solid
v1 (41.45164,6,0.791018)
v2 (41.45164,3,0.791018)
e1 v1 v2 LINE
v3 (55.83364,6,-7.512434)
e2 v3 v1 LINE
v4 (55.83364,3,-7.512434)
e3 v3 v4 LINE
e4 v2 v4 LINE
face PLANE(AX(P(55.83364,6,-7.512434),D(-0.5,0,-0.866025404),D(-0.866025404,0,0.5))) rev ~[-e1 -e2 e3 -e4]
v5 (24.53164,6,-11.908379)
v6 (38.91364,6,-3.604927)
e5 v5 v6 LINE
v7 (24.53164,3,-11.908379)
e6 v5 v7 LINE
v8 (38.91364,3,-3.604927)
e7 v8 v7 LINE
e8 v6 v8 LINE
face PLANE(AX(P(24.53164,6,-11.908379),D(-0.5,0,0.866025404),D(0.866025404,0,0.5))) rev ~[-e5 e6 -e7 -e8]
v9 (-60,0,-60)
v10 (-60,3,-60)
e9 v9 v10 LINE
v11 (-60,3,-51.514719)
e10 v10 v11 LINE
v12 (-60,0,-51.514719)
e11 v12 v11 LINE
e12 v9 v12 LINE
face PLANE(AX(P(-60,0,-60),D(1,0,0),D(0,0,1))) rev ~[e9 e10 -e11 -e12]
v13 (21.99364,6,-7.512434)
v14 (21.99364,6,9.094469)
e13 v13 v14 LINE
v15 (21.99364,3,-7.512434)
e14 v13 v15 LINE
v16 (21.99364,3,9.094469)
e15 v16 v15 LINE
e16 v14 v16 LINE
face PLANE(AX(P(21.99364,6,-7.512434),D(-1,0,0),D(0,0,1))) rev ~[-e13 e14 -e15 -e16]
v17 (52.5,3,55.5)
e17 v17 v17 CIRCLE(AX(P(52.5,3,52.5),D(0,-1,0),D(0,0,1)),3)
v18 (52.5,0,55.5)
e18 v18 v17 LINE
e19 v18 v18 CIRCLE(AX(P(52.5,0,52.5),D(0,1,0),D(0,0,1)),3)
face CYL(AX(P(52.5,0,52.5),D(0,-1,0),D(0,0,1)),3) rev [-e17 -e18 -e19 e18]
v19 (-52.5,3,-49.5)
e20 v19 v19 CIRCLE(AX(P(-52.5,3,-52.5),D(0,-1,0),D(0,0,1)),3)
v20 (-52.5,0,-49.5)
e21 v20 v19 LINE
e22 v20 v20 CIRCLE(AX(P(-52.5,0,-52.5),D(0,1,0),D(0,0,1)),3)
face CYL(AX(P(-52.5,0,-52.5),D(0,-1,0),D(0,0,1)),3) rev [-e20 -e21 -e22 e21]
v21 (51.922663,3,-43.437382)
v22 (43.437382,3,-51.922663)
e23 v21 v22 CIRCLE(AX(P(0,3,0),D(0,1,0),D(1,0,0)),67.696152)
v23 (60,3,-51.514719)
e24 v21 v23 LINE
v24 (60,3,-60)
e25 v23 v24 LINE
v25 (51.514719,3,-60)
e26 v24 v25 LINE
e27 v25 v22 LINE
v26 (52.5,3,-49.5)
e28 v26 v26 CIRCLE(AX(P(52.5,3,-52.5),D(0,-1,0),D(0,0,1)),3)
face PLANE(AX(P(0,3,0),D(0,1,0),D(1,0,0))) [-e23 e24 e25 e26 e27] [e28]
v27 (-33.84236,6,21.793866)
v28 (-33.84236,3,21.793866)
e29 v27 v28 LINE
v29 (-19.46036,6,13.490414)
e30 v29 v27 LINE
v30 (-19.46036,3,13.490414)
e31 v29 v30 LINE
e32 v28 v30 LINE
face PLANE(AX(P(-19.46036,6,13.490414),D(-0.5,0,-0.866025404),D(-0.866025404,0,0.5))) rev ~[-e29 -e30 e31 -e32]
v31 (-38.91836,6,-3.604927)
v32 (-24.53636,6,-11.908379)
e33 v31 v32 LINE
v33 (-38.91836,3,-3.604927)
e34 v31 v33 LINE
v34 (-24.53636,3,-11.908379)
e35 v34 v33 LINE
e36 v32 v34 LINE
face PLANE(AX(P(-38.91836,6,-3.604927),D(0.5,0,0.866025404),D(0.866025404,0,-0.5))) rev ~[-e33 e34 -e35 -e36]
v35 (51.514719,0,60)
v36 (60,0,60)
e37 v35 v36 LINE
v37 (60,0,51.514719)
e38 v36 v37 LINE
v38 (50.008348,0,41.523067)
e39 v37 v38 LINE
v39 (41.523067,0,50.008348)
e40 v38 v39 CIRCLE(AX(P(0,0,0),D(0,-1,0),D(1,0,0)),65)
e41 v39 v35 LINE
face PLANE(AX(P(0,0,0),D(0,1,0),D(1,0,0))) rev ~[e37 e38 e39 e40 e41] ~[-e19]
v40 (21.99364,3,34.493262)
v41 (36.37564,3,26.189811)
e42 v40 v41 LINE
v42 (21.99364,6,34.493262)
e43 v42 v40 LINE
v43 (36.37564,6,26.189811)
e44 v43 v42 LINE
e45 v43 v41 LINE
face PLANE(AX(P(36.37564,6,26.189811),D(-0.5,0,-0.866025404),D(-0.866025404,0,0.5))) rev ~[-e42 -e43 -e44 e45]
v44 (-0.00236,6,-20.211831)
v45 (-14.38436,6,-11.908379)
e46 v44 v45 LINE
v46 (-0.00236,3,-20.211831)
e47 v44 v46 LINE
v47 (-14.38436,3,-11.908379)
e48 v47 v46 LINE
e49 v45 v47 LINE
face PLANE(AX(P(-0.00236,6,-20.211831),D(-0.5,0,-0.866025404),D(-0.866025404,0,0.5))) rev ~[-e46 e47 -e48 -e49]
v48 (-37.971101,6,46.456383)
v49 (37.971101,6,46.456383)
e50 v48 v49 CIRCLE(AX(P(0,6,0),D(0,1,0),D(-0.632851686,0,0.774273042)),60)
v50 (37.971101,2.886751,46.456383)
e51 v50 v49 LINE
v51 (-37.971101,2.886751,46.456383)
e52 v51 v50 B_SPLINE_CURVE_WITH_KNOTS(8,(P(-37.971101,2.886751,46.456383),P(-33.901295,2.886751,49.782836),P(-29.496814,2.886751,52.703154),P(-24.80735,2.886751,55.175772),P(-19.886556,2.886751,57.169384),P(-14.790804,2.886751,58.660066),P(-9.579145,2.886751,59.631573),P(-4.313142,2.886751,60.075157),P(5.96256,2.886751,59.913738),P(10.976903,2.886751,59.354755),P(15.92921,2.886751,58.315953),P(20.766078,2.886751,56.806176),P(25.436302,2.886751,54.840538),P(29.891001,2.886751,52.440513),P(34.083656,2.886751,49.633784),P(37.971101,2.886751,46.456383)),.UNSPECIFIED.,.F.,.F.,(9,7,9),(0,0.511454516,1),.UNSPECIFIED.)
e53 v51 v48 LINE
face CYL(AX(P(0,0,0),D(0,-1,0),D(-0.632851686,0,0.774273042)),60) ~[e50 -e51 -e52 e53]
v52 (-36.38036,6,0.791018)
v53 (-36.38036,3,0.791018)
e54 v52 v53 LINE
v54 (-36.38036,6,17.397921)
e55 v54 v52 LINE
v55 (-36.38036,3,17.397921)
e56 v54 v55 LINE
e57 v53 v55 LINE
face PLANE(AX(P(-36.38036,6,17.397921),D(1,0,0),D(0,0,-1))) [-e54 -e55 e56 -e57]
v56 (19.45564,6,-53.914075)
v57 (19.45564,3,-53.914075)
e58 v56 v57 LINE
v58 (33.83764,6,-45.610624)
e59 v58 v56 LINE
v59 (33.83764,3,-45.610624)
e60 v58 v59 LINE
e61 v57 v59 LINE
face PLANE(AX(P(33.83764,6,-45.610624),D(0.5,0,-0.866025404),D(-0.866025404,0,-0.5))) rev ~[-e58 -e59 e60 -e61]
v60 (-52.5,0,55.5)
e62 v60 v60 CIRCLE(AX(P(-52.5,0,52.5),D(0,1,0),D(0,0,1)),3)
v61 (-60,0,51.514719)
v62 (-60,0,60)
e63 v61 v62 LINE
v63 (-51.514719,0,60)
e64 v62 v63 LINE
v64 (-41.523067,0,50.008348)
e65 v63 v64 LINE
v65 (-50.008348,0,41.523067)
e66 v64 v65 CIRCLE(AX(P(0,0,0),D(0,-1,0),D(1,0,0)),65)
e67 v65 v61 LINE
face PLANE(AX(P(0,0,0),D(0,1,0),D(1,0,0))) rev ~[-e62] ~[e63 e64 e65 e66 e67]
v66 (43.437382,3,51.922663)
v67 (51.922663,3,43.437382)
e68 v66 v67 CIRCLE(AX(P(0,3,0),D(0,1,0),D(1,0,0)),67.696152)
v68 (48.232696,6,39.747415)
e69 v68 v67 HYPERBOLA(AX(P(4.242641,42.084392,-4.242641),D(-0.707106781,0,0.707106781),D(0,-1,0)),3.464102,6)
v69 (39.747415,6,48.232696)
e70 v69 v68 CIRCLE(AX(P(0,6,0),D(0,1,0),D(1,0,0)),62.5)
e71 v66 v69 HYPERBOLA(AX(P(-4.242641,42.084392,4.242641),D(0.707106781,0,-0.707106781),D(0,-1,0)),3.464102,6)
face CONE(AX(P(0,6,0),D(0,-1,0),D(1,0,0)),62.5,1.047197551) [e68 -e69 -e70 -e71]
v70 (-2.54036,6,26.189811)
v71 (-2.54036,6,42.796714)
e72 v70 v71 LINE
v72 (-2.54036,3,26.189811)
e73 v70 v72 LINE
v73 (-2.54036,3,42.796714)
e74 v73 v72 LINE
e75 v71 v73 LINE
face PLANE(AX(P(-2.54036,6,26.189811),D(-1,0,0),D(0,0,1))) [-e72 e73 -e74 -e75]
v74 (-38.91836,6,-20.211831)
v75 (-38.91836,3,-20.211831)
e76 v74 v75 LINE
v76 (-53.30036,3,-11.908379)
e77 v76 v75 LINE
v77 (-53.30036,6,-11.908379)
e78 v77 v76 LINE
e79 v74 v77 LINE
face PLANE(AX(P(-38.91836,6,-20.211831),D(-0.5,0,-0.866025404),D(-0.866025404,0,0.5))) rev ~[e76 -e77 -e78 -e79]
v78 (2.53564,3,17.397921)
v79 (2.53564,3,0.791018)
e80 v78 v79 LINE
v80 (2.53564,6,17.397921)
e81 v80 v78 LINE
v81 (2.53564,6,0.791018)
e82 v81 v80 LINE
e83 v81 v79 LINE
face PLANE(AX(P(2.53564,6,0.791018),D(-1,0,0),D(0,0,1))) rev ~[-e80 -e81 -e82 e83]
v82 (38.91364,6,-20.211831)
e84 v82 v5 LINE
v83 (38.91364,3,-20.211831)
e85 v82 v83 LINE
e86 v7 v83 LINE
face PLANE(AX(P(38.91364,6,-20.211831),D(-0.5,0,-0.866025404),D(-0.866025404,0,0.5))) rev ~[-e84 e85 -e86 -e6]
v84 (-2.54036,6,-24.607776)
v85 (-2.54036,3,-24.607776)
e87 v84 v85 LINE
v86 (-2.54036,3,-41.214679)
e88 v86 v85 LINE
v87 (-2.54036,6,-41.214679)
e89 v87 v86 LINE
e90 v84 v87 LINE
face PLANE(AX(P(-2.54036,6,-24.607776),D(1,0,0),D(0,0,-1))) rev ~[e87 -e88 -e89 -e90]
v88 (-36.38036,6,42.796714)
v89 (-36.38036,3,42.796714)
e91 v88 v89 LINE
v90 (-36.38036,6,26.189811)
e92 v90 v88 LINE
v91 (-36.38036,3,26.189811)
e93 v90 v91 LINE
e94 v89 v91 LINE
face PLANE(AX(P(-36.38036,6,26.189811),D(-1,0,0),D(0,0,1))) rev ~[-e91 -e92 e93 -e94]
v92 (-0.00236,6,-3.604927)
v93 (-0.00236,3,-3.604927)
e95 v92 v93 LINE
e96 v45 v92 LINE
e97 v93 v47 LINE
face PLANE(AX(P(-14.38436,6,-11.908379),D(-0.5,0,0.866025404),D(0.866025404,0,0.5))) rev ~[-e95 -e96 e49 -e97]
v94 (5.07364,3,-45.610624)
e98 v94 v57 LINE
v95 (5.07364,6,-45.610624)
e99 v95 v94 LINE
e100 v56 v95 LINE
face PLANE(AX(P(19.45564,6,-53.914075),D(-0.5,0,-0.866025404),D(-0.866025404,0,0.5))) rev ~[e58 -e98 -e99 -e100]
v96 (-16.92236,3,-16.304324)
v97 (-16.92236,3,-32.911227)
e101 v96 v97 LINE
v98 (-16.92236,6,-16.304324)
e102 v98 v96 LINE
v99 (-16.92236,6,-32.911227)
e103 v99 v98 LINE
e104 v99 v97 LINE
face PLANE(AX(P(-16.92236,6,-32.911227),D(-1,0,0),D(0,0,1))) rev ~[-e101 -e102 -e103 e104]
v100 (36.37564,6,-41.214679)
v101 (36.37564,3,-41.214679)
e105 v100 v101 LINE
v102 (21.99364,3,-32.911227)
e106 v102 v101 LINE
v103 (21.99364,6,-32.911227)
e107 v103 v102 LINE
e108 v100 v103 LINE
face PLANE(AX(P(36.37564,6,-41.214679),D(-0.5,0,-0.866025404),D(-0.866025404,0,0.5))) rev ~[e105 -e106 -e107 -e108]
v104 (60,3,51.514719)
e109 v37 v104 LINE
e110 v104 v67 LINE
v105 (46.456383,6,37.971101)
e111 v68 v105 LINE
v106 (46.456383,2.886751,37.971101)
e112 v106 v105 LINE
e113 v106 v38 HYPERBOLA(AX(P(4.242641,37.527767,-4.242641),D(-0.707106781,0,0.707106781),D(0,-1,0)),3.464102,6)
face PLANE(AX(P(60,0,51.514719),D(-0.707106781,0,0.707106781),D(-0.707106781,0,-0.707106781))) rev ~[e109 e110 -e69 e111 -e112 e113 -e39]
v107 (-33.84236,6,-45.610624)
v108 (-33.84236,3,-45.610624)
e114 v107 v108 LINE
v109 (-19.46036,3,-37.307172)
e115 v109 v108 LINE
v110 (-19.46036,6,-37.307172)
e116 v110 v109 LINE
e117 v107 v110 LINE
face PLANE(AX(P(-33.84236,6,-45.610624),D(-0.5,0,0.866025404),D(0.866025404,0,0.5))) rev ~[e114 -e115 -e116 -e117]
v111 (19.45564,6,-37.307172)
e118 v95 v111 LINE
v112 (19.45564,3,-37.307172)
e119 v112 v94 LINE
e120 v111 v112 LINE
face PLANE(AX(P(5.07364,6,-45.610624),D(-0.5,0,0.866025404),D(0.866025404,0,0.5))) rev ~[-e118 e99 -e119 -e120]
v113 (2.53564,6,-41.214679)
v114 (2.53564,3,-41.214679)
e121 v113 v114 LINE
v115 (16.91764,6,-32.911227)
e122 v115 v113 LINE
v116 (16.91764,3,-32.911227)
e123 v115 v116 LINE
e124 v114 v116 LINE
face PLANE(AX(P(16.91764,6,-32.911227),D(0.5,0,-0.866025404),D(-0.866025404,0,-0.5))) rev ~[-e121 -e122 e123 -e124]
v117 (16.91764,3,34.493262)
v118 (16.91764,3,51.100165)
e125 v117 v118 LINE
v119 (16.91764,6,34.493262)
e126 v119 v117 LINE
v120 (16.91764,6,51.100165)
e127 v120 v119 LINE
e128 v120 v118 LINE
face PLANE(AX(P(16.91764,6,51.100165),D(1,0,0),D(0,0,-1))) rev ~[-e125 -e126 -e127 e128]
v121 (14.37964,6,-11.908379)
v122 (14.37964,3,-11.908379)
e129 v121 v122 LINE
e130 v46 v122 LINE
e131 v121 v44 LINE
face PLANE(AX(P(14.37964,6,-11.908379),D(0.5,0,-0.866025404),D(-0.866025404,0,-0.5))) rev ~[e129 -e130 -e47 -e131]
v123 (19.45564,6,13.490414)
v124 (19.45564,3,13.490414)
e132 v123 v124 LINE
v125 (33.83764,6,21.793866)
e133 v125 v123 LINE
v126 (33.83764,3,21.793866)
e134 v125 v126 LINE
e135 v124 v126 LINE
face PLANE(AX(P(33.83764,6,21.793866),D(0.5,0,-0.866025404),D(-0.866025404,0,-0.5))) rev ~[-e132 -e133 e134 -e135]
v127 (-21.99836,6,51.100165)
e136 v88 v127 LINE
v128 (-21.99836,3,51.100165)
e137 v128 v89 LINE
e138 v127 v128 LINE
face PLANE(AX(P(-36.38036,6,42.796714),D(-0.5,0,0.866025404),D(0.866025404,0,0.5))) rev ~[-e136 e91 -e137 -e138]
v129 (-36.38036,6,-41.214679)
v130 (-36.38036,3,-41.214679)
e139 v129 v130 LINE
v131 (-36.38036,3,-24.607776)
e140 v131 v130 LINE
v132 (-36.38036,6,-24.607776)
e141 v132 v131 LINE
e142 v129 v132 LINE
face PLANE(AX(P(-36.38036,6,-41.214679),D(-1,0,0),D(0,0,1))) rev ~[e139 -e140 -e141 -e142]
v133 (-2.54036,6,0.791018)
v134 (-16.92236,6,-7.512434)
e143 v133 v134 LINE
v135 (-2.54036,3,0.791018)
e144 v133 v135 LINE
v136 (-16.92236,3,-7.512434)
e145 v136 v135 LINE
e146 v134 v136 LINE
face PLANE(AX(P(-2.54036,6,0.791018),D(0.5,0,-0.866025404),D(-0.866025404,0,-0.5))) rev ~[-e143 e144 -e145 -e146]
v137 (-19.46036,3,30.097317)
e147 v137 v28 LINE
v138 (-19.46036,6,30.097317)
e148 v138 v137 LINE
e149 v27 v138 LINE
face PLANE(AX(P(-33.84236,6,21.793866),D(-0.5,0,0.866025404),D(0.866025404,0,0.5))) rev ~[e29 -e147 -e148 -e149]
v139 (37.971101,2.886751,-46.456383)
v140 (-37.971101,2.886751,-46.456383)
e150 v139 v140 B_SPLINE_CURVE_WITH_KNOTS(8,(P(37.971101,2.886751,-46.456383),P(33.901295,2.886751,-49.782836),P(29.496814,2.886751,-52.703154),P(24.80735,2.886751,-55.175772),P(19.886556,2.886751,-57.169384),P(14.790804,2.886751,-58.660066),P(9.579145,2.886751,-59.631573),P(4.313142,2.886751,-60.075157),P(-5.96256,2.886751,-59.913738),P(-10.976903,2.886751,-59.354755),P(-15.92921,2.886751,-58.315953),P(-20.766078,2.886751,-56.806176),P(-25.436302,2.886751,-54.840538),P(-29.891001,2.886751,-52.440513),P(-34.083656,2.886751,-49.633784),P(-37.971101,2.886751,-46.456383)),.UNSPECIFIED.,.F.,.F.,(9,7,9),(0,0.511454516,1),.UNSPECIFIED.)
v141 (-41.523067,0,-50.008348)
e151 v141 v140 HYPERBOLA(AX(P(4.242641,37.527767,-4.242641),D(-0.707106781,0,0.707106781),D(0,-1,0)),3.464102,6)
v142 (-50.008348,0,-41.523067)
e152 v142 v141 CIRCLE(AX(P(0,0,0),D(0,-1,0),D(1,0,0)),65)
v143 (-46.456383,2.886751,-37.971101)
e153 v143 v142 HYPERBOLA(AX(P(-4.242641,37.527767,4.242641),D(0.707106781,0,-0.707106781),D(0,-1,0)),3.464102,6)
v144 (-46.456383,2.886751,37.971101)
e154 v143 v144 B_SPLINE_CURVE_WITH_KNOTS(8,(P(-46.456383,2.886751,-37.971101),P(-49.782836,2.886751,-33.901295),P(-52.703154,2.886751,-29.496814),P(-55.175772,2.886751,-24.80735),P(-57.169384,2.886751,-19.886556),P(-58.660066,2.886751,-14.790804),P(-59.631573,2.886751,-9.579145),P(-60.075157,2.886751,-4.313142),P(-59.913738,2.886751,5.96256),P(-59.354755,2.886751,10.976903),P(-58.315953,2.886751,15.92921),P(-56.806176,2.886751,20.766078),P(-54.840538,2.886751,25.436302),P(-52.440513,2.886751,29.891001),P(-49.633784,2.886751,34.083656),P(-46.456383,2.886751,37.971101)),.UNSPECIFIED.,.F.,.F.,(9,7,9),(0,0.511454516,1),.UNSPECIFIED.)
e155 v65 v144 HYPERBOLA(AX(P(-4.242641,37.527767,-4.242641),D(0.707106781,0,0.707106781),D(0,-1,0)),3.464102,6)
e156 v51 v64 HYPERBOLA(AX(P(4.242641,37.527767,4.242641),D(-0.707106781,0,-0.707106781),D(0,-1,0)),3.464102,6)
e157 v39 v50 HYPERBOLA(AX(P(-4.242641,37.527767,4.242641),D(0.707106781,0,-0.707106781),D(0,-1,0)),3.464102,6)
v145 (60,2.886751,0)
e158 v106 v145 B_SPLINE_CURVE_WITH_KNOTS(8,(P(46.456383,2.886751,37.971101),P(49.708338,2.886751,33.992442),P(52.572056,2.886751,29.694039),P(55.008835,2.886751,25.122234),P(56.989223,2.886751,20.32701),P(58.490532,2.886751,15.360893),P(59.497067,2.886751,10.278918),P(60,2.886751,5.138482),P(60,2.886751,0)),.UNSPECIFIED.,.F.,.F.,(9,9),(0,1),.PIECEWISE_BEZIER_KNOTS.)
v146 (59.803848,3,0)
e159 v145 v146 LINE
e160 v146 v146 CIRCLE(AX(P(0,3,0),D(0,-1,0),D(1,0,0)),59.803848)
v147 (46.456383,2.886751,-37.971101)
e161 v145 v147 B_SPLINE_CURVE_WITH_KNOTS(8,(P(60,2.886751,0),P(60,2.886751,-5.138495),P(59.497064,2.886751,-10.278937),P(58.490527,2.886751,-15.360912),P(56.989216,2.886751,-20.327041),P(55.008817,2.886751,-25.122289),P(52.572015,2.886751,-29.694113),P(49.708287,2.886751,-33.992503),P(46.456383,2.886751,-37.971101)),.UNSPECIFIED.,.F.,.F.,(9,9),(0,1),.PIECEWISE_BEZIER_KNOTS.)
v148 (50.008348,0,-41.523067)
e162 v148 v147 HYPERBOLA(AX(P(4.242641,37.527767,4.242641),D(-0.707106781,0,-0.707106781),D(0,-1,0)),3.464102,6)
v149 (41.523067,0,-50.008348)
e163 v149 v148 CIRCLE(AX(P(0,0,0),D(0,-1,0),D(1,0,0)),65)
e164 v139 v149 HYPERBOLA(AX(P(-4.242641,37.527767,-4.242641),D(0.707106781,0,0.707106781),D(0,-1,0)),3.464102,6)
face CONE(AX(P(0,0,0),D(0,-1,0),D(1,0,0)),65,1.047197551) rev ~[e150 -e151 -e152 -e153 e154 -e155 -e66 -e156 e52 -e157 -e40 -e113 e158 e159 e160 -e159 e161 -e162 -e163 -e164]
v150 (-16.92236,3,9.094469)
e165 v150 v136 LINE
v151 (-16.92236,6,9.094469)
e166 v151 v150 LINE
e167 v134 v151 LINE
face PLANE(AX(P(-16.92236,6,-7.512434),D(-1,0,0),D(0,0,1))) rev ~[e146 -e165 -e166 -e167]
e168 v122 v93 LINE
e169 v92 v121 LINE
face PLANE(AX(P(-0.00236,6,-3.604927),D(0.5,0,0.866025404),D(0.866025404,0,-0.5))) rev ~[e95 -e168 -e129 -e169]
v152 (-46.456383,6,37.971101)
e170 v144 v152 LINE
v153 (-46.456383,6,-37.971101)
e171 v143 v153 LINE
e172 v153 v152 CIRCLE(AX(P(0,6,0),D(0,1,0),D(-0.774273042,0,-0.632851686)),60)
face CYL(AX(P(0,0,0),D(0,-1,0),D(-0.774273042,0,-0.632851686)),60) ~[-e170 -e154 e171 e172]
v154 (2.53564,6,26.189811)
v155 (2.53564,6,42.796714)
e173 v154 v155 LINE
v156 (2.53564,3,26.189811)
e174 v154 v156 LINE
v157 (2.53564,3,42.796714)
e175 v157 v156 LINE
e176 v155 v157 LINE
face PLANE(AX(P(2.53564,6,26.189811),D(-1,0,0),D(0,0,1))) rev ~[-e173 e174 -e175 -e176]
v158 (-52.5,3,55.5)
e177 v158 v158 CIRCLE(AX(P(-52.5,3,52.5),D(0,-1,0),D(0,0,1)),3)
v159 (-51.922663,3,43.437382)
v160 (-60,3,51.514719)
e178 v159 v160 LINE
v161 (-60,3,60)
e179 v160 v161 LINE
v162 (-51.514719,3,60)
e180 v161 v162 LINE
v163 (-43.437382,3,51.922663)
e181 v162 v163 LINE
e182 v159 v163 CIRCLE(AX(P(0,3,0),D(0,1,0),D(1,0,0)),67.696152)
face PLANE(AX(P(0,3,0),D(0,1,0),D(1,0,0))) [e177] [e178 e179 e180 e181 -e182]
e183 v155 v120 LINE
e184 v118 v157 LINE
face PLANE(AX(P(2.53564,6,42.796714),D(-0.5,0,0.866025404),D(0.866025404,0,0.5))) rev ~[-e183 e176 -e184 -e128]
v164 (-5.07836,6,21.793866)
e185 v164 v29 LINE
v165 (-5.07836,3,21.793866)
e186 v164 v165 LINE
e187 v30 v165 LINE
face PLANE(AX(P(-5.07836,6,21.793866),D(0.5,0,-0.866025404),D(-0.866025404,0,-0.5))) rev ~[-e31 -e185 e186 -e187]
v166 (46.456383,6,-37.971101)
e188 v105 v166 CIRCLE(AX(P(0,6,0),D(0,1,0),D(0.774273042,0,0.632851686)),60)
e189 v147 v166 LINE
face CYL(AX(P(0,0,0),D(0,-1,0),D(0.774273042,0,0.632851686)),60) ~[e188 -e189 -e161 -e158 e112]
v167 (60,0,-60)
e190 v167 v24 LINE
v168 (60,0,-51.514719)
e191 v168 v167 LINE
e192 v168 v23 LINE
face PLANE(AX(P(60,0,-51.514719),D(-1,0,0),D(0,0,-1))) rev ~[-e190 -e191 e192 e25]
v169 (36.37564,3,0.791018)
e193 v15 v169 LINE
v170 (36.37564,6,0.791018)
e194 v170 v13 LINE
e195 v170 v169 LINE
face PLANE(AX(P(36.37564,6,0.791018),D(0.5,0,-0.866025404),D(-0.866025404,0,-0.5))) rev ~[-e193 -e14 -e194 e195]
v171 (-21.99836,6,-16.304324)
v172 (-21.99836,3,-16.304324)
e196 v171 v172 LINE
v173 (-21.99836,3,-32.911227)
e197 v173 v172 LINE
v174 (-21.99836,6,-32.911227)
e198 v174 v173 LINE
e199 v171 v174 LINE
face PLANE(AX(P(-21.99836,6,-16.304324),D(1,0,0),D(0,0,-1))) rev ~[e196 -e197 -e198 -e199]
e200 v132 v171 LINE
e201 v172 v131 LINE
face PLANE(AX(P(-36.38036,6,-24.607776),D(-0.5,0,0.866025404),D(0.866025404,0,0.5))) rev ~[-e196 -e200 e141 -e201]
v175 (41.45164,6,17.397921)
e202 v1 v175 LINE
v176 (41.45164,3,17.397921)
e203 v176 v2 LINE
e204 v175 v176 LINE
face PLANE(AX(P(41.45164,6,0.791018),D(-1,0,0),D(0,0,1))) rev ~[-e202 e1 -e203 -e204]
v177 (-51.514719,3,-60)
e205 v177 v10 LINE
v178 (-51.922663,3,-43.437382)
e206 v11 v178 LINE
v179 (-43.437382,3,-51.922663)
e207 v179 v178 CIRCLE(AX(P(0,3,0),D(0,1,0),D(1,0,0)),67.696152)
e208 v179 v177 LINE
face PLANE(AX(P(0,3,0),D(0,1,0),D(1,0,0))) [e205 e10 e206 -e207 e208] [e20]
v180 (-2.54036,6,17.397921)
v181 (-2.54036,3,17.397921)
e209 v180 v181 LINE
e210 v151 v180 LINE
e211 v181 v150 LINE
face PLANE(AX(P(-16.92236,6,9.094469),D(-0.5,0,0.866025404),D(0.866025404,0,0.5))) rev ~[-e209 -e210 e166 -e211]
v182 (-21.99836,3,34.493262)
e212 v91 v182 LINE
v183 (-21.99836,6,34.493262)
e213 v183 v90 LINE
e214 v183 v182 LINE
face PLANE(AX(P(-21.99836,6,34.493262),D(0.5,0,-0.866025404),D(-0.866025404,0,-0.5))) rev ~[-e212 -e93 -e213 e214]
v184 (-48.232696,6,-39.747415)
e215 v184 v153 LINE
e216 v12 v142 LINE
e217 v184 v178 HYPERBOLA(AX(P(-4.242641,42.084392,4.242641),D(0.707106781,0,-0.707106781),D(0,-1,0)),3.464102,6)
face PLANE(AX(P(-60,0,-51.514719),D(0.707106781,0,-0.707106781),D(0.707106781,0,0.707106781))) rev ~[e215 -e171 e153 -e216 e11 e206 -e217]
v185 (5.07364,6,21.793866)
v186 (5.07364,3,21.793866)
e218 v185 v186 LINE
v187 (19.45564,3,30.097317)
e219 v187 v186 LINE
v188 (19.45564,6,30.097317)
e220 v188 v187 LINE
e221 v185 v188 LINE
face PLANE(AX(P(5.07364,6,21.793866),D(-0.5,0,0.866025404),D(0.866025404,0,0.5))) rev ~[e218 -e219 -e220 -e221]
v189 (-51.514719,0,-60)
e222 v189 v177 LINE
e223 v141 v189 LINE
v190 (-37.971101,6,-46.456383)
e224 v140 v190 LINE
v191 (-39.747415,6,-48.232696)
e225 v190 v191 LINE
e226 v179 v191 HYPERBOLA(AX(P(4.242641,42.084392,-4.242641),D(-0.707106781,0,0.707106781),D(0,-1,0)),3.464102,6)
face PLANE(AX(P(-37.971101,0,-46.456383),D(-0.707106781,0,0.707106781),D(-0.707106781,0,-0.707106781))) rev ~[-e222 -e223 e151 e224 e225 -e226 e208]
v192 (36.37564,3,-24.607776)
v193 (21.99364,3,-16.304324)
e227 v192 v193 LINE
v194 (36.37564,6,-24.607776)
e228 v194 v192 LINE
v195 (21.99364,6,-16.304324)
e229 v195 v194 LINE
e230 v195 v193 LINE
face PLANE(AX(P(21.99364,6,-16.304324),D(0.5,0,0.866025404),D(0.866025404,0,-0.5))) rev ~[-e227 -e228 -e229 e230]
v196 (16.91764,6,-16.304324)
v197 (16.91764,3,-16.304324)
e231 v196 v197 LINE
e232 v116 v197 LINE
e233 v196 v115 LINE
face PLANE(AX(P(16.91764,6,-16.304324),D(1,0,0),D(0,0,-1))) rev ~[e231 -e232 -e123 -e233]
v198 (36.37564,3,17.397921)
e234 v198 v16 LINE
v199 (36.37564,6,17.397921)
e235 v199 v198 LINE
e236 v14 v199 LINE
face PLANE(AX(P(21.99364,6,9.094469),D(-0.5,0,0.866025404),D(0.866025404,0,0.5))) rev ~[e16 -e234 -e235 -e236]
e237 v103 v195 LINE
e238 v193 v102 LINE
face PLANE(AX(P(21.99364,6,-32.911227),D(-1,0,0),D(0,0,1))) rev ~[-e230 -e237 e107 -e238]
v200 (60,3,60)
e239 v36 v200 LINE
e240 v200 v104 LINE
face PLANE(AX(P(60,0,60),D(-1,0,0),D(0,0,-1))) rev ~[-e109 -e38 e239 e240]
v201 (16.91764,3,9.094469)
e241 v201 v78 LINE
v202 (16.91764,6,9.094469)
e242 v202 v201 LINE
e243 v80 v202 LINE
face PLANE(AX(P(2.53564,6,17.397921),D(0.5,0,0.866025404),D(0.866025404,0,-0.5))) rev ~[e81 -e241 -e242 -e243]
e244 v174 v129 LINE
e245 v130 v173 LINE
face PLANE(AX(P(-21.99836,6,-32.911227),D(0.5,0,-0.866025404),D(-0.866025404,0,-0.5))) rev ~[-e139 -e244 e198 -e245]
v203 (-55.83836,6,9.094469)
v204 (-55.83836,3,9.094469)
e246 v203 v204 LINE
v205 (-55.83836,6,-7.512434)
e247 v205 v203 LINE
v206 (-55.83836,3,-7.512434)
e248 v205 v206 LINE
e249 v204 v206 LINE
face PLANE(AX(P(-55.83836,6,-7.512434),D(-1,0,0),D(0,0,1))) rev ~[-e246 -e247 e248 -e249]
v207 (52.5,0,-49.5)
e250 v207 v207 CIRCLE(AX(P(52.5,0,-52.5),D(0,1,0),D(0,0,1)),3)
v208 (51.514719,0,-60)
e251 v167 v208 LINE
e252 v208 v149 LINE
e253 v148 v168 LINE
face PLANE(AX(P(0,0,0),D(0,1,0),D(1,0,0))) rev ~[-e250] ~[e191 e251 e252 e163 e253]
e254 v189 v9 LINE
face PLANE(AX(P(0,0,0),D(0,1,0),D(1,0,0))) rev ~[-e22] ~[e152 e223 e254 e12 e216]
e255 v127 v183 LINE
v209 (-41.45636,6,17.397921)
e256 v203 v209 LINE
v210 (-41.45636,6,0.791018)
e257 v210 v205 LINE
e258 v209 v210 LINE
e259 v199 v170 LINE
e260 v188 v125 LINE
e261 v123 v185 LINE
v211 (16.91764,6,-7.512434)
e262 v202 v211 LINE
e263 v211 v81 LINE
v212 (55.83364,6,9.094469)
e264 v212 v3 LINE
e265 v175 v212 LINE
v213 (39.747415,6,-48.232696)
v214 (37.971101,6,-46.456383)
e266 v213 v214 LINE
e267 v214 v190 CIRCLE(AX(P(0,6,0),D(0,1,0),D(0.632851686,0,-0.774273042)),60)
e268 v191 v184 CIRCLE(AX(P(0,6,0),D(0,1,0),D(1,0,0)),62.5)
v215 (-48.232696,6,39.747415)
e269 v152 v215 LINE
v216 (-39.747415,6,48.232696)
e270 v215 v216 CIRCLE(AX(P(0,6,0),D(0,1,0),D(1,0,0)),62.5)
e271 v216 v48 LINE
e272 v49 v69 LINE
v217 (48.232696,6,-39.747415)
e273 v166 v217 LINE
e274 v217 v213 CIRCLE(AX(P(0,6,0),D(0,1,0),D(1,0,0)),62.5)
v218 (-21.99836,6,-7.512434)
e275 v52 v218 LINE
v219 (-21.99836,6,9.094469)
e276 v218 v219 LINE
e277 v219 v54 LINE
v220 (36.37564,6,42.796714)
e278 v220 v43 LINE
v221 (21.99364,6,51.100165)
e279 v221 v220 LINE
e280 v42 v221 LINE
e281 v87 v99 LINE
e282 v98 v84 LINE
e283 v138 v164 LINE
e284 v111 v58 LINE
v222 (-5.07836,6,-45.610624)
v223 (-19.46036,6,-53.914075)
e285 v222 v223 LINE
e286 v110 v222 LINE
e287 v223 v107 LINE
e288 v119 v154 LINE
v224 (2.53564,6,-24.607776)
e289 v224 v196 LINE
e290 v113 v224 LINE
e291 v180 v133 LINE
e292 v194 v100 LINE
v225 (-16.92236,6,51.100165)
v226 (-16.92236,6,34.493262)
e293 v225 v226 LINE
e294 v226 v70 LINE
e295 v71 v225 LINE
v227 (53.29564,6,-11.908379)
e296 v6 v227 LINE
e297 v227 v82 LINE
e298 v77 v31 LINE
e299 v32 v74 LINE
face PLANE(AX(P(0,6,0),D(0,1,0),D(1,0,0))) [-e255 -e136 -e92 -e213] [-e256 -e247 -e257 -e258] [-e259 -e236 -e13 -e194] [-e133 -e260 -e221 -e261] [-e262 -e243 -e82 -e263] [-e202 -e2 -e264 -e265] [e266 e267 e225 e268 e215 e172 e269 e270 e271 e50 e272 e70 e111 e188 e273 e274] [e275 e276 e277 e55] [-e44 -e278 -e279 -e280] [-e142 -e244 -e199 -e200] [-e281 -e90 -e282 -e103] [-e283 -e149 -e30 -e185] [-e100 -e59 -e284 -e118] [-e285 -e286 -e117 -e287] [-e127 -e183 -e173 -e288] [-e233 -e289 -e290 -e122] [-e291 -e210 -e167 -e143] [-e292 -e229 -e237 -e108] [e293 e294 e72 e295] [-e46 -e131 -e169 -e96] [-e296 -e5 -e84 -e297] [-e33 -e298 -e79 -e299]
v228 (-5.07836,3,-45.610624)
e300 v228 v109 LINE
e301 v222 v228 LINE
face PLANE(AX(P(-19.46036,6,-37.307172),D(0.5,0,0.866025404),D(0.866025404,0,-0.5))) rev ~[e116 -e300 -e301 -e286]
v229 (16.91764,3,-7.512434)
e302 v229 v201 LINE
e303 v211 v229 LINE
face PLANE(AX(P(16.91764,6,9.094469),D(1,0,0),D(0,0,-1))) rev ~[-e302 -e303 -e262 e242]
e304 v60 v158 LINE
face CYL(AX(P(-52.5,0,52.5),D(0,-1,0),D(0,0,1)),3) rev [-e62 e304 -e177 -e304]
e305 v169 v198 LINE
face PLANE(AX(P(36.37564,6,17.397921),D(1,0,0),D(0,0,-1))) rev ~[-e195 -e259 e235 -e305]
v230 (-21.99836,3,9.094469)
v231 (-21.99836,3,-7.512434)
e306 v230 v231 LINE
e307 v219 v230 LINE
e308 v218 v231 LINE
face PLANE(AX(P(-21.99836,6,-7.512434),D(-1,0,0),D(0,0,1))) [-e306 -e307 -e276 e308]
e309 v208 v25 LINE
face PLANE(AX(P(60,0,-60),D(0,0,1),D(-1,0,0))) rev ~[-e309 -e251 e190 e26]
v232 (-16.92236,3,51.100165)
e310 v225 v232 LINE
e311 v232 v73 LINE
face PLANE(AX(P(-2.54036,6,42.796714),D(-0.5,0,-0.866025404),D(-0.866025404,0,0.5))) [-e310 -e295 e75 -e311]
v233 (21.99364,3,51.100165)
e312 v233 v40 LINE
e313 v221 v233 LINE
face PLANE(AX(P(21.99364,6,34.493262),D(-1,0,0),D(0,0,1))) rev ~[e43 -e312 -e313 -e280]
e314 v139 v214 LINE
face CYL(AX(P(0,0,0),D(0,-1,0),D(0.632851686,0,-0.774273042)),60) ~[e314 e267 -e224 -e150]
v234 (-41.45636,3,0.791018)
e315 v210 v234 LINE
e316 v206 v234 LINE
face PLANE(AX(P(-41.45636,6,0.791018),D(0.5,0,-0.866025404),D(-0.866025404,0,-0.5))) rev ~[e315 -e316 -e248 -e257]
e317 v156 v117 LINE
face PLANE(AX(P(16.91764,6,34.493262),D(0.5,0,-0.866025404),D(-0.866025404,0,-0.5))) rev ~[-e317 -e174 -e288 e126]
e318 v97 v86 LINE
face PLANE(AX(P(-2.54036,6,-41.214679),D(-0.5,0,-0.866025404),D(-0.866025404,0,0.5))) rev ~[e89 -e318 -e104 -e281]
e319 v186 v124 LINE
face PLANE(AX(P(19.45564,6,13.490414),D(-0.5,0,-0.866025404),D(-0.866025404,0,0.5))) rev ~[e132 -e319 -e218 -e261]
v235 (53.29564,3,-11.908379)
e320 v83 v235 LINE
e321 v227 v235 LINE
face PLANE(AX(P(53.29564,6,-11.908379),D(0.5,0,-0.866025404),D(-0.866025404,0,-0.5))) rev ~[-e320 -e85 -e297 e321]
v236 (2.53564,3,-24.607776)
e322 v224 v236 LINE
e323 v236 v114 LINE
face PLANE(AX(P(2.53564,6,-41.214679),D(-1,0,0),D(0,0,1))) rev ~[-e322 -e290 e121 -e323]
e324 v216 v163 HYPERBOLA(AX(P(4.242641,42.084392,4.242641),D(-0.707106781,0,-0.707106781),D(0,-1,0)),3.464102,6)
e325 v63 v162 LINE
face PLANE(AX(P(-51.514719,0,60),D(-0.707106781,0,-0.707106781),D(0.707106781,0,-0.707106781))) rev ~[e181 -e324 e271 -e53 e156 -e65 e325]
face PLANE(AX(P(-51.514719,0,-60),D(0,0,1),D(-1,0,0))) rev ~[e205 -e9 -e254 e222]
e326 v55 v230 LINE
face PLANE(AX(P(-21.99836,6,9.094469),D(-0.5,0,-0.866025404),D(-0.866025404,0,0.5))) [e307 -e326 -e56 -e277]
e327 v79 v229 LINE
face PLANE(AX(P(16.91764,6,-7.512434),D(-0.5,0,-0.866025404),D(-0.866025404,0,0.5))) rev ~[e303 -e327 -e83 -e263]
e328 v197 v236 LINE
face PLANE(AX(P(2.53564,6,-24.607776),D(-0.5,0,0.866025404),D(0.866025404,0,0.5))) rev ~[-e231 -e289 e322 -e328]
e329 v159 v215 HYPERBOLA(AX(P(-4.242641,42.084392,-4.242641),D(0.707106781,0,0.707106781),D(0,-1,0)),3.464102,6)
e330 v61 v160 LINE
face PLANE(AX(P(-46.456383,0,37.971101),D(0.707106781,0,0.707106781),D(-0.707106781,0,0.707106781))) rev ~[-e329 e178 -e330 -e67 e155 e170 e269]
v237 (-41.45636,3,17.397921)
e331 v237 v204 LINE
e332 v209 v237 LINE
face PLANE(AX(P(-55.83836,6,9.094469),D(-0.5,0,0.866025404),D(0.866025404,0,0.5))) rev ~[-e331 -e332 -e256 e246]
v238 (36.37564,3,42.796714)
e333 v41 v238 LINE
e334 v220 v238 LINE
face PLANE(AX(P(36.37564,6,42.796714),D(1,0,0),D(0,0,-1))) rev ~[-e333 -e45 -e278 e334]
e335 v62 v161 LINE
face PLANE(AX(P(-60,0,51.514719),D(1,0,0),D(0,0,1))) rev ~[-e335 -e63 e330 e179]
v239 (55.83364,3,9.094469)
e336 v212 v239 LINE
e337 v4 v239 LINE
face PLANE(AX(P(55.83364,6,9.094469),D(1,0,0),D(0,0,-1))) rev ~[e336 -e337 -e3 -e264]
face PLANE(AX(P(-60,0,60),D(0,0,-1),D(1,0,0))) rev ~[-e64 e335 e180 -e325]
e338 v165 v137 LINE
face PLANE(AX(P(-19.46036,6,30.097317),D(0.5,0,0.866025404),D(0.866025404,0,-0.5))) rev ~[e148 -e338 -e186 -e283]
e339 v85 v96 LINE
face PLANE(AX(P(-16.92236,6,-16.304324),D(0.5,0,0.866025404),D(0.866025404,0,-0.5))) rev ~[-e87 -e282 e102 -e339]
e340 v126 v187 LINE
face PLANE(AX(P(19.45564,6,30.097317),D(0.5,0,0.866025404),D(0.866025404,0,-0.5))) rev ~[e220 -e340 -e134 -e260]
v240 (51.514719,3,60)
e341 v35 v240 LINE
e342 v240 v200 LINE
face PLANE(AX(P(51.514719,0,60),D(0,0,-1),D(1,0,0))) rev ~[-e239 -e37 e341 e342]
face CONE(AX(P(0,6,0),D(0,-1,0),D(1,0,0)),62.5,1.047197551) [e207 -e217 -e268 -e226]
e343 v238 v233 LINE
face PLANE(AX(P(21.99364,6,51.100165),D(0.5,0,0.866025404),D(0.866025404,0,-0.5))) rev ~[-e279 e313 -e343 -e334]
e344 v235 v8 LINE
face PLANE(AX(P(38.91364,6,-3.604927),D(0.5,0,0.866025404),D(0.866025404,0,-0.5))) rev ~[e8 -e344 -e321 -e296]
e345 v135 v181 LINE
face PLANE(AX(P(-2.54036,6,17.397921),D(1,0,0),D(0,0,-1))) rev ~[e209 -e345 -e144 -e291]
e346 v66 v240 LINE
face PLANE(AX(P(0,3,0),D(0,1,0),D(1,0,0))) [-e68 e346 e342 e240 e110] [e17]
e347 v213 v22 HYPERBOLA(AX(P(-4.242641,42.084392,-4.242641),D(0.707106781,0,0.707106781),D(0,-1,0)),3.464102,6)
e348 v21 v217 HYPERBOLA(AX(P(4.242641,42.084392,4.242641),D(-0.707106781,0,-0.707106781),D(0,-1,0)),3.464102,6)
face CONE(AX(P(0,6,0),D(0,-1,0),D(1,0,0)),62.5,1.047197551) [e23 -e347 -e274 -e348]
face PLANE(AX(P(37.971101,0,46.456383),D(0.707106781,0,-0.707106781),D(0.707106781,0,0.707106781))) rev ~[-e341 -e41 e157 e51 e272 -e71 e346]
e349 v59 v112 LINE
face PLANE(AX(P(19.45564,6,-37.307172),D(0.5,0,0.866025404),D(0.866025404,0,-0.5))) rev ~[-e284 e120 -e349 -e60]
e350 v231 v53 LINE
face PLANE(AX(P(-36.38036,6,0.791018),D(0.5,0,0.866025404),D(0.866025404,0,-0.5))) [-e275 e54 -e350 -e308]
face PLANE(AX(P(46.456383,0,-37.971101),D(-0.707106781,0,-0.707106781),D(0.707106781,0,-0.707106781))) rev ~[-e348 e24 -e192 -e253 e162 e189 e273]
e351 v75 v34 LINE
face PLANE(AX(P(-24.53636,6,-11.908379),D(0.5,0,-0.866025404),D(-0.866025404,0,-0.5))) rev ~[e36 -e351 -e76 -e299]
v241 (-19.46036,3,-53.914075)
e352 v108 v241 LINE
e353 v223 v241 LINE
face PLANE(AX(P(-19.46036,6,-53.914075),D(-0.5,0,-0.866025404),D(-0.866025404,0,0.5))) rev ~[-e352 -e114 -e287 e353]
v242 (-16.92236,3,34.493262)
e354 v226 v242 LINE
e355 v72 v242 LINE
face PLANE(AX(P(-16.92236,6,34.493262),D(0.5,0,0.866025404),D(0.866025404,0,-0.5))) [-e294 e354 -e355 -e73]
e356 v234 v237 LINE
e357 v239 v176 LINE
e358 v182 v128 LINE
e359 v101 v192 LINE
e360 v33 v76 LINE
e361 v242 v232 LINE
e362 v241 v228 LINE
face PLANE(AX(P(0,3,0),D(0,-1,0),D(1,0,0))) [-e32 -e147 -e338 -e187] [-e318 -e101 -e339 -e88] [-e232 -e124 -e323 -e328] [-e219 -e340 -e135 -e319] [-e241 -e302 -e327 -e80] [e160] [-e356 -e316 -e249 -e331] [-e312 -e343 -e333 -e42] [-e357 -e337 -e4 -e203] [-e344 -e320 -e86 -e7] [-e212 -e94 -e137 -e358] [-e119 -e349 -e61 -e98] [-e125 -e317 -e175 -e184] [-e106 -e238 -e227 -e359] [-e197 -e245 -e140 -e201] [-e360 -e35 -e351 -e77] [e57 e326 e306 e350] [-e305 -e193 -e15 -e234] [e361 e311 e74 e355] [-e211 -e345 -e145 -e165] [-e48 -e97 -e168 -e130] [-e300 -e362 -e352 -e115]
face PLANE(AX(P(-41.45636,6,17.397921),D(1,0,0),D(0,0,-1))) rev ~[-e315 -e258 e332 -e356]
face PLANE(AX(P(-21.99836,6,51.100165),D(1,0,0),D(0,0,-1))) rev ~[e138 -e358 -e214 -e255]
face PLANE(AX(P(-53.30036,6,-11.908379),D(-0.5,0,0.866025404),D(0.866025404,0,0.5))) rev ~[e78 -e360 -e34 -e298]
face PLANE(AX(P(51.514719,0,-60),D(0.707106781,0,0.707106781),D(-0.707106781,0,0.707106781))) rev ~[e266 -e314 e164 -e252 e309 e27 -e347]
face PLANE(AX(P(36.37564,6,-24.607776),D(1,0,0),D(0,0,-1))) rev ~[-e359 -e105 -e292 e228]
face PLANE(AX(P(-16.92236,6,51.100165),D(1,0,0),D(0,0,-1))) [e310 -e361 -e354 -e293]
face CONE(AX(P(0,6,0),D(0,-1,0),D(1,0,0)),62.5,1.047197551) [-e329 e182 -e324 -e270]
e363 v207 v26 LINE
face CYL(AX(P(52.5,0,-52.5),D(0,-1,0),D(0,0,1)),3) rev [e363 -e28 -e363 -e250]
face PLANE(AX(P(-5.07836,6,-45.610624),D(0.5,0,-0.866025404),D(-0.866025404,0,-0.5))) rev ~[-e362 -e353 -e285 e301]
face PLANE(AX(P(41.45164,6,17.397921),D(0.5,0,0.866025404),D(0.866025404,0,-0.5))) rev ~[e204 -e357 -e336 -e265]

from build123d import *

# Parameters (mm, degrees)
SKETCH_1_R          = 3
EXTRUDE_1_DEPTH     = 6
SKETCH_2_R          = 65
CUT_EXTRUDE_1_DEPTH = 3
CUT_EXTRUDE_1_DRAFT = -60
SKETCH_3_OUTSIDE_W  = 166.354
SKETCH_3_OUTSIDE_H  = 166.354
SKETCH_3_OUTSIDE_R  = 62.5
CUT_EXTRUDE_2_DEPTH = 3
CUT_EXTRUDE_2_DRAFT = -60
CUT_EXTRUDE1_DEPTH  = 86.064681421


with BuildPart() as part:
    # Эскиз1 → Бобышка-Вытянуть1 (new body)
    with BuildSketch(Plane(origin=(0, 0, 0), x_dir=(1, 0, 0), z_dir=(0, 1, 0))):
        with BuildLine():
            Line((-51.514718626, -60), (-37.971101151, -46.456382526))
            ThreePointArc((-37.971101151, -46.456382526), (0, -60), (37.971101151, -46.456382526))
            Line((37.971101151, -46.456382526), (51.514718626, -60))
            Line((51.514718626, -60), (60, -60))
            Line((60, -60), (60, -51.514718626))
            Line((60, -51.514718626), (46.456382526, -37.971101151))
            ThreePointArc((46.456382526, -37.971101151), (60, 0), (46.456382526, 37.971101151))
            Line((46.456382526, 37.971101151), (60, 51.514718626))
            Line((60, 51.514718626), (60, 60))
            Line((60, 60), (51.514718626, 60))
            Line((51.514718626, 60), (37.971101151, 46.456382526))
            ThreePointArc((37.971101151, 46.456382526), (0, 60), (-37.971101151, 46.456382526))
            Line((-37.971101151, 46.456382526), (-51.514718626, 60))
            Line((-51.514718626, 60), (-60, 60))
            Line((-60, 60), (-60, 51.514718626))
            Line((-60, 51.514718626), (-46.456382526, 37.971101151))
            ThreePointArc((-46.456382526, 37.971101151), (-60, 0), (-46.456382526, -37.971101151))
            Line((-46.456382526, -37.971101151), (-60, -51.514718626))
            Line((-60, -51.514718626), (-60, -60))
            Line((-60, -60), (-51.514718626, -60))
        make_face()
        with Locations(Location((-52.5, -52.5, 0), (0, 0, 270))):
            Circle(SKETCH_1_R, mode=Mode.SUBTRACT)
        with Locations(Location((-52.5, 52.5, 0), (0, 0, 270))):
            Circle(SKETCH_1_R, mode=Mode.SUBTRACT)
        with Locations(Location((52.5, 52.5, 0), (0, 0, 270))):
            Circle(SKETCH_1_R, mode=Mode.SUBTRACT)
        with Locations(Location((52.5, -52.5, 0), (0, 0, 270))):
            Circle(SKETCH_1_R, mode=Mode.SUBTRACT)
        with BuildLine():
            Line((2.73923518, 6.981875867), (6.459180807, 10.701821494))
            ThreePointArc((6.459180807, 10.701821494), (0, 12.5), (-6.459180807, 10.701821494))
            Line((-6.459180807, 10.701821494), (-2.73923518, 6.981875867))
            ThreePointArc((-2.73923518, 6.981875867), (0, 7.5), (2.73923518, 6.981875867))
        make_face(mode=Mode.SUBTRACT)
    extrude(amount=EXTRUDE_1_DEPTH)


with BuildPart() as cut_extrude_1_tool:
    # Эскиз2 → Вырез-Вытянуть1 (with draft: the straight prism first)
    with BuildSketch(Plane.XZ):
        Circle(SKETCH_2_R)
    extrude(amount=-CUT_EXTRUDE_1_DEPTH)
    # Вырез-Вытянуть1: the draft: its side faces are tilted about the plane it starts from
    cut_extrude_1_sides = [cut_extrude_1_tool.faces().sort_by_distance(p)[0] for p in [
        (-65, 1.5, 0),
    ]]
    draft(cut_extrude_1_sides, Plane.XZ, CUT_EXTRUDE_1_DRAFT)


with BuildPart() as part_1:
    add(part.part)

    # Вырез-Вытянуть1: cut by cut_extrude_1_tool
    add(cut_extrude_1_tool.part, mode=Mode.SUBTRACT)


with BuildPart() as cut_extrude_2_tool:
    # Эскиз3 outside → Вырез-Вытянуть2 (with draft: the straight prism first)
    with BuildSketch(Plane(origin=(0, 6, 0), x_dir=(1, 0, 0), z_dir=(0, 1, 0))):
        Rectangle(SKETCH_3_OUTSIDE_W, SKETCH_3_OUTSIDE_H)
        Circle(SKETCH_3_OUTSIDE_R, mode=Mode.SUBTRACT)
    extrude(amount=-CUT_EXTRUDE_2_DEPTH)
    # Вырез-Вытянуть2: the draft: its side faces are tilted about the plane it starts from
    cut_extrude_2_sides = [cut_extrude_2_tool.faces().sort_by_distance(p)[0] for p in [
        (0, 4.5, 83.177),
        (83.177, 4.5, 0),
        (0, 4.5, -83.177),
        (-83.177, 4.5, 0),
        (-62.5, 4.5, 0),
    ]]
    draft(cut_extrude_2_sides, Plane(origin=(0, 6, 0), x_dir=(1, 0, 0), z_dir=(0, 1, 0)), CUT_EXTRUDE_2_DRAFT)


with BuildPart() as part_2:
    add(part_1.part)

    # Вырез-Вытянуть2: cut by cut_extrude_2_tool
    add(cut_extrude_2_tool.part, mode=Mode.SUBTRACT)

    # Sketch1 → Cut-Extrude1 (cut, through all)
    with BuildSketch(Plane(origin=(0, 6, 0), x_dir=(1, 0, 0), z_dir=(0, 1, 0))):
        Polygon((19.45563956, 53.914075196), (5.07363956, 45.610623625), (19.45563956, 37.307172053), (33.83763956, 45.610623625), align=None)
        Polygon((2.53563956, 41.214678675), (2.53563956, 24.607775532), (16.91763956, 16.30432396), (16.91763956, 32.911227103), align=None)
        Polygon((21.99363956, 16.30432396), (36.37563956, 24.607775532), (36.37563956, 41.214678675), (21.99363956, 32.911227103), align=None)
        Polygon((-19.46036044, 53.914075196), (-33.84236044, 45.610623625), (-19.46036044, 37.307172053), (-5.07836044, 45.610623625), align=None)
        Polygon((-36.38036044, 41.214678675), (-36.38036044, 24.607775532), (-21.99836044, 16.30432396), (-21.99836044, 32.911227103), align=None)
        Polygon((-16.92236044, 16.30432396), (-2.54036044, 24.607775532), (-2.54036044, 41.214678675), (-16.92236044, 32.911227103), align=None)
        Polygon((38.91363956, 20.211830582), (24.53163956, 11.908379011), (38.91363956, 3.604927439), (53.29563956, 11.908379011), align=None)
        Polygon((21.99363956, 7.512434061), (21.99363956, -9.094469082), (36.37563956, -17.397920653), (36.37563956, -0.79101751), align=None)
        Polygon((41.45163956, -17.397920653), (55.83363956, -9.094469082), (55.83363956, 7.512434061), (41.45163956, -0.79101751), align=None)
        Polygon((-2.54036044, -42.796713695), (-16.92236044, -51.100165267), (-16.92236044, -34.493262124), (-2.54036044, -26.189810552), align=None)
        Polygon((19.45563956, -13.490414031), (5.07363956, -21.793865603), (19.45563956, -30.097317174), (33.83763956, -21.793865603), align=None)
        Polygon((2.53563956, -26.189810552), (2.53563956, -42.796713695), (16.91763956, -51.100165267), (16.91763956, -34.493262124), align=None)
        Polygon((21.99363956, -51.100165267), (36.37563956, -42.796713695), (36.37563956, -26.189810552), (21.99363956, -34.493262124), align=None)
        Polygon((-19.46036044, -13.490414031), (-33.84236044, -21.793865603), (-19.46036044, -30.097317174), (-5.07836044, -21.793865603), align=None)
        Polygon((-36.38036044, -26.189810552), (-36.38036044, -42.796713695), (-21.99836044, -51.100165267), (-21.99836044, -34.493262124), align=None)
        Polygon((-21.99836044, -9.094469082), (-36.38036044, -17.397920653), (-36.38036044, -0.79101751), (-21.99836044, 7.512434061), align=None)
        Polygon((-0.00236044, 20.211830582), (-14.38436044, 11.908379011), (-0.00236044, 3.604927439), (14.37963956, 11.908379011), align=None)
        Polygon((-16.92236044, 7.512434061), (-16.92236044, -9.094469082), (-2.54036044, -17.397920653), (-2.54036044, -0.79101751), align=None)
        Polygon((2.53563956, -17.397920653), (16.91763956, -9.094469082), (16.91763956, 7.512434061), (2.53563956, -0.79101751), align=None)
        Polygon((-38.91836044, 20.211830582), (-53.30036044, 11.908379011), (-38.91836044, 3.604927439), (-24.53636044, 11.908379011), align=None)
        Polygon((-55.83836044, 7.512434061), (-55.83836044, -9.094469082), (-41.45636044, -17.397920653), (-41.45636044, -0.79101751), align=None)
    extrude(amount=-CUT_EXTRUDE1_DEPTH, mode=Mode.SUBTRACT)


solid = part_2.part
